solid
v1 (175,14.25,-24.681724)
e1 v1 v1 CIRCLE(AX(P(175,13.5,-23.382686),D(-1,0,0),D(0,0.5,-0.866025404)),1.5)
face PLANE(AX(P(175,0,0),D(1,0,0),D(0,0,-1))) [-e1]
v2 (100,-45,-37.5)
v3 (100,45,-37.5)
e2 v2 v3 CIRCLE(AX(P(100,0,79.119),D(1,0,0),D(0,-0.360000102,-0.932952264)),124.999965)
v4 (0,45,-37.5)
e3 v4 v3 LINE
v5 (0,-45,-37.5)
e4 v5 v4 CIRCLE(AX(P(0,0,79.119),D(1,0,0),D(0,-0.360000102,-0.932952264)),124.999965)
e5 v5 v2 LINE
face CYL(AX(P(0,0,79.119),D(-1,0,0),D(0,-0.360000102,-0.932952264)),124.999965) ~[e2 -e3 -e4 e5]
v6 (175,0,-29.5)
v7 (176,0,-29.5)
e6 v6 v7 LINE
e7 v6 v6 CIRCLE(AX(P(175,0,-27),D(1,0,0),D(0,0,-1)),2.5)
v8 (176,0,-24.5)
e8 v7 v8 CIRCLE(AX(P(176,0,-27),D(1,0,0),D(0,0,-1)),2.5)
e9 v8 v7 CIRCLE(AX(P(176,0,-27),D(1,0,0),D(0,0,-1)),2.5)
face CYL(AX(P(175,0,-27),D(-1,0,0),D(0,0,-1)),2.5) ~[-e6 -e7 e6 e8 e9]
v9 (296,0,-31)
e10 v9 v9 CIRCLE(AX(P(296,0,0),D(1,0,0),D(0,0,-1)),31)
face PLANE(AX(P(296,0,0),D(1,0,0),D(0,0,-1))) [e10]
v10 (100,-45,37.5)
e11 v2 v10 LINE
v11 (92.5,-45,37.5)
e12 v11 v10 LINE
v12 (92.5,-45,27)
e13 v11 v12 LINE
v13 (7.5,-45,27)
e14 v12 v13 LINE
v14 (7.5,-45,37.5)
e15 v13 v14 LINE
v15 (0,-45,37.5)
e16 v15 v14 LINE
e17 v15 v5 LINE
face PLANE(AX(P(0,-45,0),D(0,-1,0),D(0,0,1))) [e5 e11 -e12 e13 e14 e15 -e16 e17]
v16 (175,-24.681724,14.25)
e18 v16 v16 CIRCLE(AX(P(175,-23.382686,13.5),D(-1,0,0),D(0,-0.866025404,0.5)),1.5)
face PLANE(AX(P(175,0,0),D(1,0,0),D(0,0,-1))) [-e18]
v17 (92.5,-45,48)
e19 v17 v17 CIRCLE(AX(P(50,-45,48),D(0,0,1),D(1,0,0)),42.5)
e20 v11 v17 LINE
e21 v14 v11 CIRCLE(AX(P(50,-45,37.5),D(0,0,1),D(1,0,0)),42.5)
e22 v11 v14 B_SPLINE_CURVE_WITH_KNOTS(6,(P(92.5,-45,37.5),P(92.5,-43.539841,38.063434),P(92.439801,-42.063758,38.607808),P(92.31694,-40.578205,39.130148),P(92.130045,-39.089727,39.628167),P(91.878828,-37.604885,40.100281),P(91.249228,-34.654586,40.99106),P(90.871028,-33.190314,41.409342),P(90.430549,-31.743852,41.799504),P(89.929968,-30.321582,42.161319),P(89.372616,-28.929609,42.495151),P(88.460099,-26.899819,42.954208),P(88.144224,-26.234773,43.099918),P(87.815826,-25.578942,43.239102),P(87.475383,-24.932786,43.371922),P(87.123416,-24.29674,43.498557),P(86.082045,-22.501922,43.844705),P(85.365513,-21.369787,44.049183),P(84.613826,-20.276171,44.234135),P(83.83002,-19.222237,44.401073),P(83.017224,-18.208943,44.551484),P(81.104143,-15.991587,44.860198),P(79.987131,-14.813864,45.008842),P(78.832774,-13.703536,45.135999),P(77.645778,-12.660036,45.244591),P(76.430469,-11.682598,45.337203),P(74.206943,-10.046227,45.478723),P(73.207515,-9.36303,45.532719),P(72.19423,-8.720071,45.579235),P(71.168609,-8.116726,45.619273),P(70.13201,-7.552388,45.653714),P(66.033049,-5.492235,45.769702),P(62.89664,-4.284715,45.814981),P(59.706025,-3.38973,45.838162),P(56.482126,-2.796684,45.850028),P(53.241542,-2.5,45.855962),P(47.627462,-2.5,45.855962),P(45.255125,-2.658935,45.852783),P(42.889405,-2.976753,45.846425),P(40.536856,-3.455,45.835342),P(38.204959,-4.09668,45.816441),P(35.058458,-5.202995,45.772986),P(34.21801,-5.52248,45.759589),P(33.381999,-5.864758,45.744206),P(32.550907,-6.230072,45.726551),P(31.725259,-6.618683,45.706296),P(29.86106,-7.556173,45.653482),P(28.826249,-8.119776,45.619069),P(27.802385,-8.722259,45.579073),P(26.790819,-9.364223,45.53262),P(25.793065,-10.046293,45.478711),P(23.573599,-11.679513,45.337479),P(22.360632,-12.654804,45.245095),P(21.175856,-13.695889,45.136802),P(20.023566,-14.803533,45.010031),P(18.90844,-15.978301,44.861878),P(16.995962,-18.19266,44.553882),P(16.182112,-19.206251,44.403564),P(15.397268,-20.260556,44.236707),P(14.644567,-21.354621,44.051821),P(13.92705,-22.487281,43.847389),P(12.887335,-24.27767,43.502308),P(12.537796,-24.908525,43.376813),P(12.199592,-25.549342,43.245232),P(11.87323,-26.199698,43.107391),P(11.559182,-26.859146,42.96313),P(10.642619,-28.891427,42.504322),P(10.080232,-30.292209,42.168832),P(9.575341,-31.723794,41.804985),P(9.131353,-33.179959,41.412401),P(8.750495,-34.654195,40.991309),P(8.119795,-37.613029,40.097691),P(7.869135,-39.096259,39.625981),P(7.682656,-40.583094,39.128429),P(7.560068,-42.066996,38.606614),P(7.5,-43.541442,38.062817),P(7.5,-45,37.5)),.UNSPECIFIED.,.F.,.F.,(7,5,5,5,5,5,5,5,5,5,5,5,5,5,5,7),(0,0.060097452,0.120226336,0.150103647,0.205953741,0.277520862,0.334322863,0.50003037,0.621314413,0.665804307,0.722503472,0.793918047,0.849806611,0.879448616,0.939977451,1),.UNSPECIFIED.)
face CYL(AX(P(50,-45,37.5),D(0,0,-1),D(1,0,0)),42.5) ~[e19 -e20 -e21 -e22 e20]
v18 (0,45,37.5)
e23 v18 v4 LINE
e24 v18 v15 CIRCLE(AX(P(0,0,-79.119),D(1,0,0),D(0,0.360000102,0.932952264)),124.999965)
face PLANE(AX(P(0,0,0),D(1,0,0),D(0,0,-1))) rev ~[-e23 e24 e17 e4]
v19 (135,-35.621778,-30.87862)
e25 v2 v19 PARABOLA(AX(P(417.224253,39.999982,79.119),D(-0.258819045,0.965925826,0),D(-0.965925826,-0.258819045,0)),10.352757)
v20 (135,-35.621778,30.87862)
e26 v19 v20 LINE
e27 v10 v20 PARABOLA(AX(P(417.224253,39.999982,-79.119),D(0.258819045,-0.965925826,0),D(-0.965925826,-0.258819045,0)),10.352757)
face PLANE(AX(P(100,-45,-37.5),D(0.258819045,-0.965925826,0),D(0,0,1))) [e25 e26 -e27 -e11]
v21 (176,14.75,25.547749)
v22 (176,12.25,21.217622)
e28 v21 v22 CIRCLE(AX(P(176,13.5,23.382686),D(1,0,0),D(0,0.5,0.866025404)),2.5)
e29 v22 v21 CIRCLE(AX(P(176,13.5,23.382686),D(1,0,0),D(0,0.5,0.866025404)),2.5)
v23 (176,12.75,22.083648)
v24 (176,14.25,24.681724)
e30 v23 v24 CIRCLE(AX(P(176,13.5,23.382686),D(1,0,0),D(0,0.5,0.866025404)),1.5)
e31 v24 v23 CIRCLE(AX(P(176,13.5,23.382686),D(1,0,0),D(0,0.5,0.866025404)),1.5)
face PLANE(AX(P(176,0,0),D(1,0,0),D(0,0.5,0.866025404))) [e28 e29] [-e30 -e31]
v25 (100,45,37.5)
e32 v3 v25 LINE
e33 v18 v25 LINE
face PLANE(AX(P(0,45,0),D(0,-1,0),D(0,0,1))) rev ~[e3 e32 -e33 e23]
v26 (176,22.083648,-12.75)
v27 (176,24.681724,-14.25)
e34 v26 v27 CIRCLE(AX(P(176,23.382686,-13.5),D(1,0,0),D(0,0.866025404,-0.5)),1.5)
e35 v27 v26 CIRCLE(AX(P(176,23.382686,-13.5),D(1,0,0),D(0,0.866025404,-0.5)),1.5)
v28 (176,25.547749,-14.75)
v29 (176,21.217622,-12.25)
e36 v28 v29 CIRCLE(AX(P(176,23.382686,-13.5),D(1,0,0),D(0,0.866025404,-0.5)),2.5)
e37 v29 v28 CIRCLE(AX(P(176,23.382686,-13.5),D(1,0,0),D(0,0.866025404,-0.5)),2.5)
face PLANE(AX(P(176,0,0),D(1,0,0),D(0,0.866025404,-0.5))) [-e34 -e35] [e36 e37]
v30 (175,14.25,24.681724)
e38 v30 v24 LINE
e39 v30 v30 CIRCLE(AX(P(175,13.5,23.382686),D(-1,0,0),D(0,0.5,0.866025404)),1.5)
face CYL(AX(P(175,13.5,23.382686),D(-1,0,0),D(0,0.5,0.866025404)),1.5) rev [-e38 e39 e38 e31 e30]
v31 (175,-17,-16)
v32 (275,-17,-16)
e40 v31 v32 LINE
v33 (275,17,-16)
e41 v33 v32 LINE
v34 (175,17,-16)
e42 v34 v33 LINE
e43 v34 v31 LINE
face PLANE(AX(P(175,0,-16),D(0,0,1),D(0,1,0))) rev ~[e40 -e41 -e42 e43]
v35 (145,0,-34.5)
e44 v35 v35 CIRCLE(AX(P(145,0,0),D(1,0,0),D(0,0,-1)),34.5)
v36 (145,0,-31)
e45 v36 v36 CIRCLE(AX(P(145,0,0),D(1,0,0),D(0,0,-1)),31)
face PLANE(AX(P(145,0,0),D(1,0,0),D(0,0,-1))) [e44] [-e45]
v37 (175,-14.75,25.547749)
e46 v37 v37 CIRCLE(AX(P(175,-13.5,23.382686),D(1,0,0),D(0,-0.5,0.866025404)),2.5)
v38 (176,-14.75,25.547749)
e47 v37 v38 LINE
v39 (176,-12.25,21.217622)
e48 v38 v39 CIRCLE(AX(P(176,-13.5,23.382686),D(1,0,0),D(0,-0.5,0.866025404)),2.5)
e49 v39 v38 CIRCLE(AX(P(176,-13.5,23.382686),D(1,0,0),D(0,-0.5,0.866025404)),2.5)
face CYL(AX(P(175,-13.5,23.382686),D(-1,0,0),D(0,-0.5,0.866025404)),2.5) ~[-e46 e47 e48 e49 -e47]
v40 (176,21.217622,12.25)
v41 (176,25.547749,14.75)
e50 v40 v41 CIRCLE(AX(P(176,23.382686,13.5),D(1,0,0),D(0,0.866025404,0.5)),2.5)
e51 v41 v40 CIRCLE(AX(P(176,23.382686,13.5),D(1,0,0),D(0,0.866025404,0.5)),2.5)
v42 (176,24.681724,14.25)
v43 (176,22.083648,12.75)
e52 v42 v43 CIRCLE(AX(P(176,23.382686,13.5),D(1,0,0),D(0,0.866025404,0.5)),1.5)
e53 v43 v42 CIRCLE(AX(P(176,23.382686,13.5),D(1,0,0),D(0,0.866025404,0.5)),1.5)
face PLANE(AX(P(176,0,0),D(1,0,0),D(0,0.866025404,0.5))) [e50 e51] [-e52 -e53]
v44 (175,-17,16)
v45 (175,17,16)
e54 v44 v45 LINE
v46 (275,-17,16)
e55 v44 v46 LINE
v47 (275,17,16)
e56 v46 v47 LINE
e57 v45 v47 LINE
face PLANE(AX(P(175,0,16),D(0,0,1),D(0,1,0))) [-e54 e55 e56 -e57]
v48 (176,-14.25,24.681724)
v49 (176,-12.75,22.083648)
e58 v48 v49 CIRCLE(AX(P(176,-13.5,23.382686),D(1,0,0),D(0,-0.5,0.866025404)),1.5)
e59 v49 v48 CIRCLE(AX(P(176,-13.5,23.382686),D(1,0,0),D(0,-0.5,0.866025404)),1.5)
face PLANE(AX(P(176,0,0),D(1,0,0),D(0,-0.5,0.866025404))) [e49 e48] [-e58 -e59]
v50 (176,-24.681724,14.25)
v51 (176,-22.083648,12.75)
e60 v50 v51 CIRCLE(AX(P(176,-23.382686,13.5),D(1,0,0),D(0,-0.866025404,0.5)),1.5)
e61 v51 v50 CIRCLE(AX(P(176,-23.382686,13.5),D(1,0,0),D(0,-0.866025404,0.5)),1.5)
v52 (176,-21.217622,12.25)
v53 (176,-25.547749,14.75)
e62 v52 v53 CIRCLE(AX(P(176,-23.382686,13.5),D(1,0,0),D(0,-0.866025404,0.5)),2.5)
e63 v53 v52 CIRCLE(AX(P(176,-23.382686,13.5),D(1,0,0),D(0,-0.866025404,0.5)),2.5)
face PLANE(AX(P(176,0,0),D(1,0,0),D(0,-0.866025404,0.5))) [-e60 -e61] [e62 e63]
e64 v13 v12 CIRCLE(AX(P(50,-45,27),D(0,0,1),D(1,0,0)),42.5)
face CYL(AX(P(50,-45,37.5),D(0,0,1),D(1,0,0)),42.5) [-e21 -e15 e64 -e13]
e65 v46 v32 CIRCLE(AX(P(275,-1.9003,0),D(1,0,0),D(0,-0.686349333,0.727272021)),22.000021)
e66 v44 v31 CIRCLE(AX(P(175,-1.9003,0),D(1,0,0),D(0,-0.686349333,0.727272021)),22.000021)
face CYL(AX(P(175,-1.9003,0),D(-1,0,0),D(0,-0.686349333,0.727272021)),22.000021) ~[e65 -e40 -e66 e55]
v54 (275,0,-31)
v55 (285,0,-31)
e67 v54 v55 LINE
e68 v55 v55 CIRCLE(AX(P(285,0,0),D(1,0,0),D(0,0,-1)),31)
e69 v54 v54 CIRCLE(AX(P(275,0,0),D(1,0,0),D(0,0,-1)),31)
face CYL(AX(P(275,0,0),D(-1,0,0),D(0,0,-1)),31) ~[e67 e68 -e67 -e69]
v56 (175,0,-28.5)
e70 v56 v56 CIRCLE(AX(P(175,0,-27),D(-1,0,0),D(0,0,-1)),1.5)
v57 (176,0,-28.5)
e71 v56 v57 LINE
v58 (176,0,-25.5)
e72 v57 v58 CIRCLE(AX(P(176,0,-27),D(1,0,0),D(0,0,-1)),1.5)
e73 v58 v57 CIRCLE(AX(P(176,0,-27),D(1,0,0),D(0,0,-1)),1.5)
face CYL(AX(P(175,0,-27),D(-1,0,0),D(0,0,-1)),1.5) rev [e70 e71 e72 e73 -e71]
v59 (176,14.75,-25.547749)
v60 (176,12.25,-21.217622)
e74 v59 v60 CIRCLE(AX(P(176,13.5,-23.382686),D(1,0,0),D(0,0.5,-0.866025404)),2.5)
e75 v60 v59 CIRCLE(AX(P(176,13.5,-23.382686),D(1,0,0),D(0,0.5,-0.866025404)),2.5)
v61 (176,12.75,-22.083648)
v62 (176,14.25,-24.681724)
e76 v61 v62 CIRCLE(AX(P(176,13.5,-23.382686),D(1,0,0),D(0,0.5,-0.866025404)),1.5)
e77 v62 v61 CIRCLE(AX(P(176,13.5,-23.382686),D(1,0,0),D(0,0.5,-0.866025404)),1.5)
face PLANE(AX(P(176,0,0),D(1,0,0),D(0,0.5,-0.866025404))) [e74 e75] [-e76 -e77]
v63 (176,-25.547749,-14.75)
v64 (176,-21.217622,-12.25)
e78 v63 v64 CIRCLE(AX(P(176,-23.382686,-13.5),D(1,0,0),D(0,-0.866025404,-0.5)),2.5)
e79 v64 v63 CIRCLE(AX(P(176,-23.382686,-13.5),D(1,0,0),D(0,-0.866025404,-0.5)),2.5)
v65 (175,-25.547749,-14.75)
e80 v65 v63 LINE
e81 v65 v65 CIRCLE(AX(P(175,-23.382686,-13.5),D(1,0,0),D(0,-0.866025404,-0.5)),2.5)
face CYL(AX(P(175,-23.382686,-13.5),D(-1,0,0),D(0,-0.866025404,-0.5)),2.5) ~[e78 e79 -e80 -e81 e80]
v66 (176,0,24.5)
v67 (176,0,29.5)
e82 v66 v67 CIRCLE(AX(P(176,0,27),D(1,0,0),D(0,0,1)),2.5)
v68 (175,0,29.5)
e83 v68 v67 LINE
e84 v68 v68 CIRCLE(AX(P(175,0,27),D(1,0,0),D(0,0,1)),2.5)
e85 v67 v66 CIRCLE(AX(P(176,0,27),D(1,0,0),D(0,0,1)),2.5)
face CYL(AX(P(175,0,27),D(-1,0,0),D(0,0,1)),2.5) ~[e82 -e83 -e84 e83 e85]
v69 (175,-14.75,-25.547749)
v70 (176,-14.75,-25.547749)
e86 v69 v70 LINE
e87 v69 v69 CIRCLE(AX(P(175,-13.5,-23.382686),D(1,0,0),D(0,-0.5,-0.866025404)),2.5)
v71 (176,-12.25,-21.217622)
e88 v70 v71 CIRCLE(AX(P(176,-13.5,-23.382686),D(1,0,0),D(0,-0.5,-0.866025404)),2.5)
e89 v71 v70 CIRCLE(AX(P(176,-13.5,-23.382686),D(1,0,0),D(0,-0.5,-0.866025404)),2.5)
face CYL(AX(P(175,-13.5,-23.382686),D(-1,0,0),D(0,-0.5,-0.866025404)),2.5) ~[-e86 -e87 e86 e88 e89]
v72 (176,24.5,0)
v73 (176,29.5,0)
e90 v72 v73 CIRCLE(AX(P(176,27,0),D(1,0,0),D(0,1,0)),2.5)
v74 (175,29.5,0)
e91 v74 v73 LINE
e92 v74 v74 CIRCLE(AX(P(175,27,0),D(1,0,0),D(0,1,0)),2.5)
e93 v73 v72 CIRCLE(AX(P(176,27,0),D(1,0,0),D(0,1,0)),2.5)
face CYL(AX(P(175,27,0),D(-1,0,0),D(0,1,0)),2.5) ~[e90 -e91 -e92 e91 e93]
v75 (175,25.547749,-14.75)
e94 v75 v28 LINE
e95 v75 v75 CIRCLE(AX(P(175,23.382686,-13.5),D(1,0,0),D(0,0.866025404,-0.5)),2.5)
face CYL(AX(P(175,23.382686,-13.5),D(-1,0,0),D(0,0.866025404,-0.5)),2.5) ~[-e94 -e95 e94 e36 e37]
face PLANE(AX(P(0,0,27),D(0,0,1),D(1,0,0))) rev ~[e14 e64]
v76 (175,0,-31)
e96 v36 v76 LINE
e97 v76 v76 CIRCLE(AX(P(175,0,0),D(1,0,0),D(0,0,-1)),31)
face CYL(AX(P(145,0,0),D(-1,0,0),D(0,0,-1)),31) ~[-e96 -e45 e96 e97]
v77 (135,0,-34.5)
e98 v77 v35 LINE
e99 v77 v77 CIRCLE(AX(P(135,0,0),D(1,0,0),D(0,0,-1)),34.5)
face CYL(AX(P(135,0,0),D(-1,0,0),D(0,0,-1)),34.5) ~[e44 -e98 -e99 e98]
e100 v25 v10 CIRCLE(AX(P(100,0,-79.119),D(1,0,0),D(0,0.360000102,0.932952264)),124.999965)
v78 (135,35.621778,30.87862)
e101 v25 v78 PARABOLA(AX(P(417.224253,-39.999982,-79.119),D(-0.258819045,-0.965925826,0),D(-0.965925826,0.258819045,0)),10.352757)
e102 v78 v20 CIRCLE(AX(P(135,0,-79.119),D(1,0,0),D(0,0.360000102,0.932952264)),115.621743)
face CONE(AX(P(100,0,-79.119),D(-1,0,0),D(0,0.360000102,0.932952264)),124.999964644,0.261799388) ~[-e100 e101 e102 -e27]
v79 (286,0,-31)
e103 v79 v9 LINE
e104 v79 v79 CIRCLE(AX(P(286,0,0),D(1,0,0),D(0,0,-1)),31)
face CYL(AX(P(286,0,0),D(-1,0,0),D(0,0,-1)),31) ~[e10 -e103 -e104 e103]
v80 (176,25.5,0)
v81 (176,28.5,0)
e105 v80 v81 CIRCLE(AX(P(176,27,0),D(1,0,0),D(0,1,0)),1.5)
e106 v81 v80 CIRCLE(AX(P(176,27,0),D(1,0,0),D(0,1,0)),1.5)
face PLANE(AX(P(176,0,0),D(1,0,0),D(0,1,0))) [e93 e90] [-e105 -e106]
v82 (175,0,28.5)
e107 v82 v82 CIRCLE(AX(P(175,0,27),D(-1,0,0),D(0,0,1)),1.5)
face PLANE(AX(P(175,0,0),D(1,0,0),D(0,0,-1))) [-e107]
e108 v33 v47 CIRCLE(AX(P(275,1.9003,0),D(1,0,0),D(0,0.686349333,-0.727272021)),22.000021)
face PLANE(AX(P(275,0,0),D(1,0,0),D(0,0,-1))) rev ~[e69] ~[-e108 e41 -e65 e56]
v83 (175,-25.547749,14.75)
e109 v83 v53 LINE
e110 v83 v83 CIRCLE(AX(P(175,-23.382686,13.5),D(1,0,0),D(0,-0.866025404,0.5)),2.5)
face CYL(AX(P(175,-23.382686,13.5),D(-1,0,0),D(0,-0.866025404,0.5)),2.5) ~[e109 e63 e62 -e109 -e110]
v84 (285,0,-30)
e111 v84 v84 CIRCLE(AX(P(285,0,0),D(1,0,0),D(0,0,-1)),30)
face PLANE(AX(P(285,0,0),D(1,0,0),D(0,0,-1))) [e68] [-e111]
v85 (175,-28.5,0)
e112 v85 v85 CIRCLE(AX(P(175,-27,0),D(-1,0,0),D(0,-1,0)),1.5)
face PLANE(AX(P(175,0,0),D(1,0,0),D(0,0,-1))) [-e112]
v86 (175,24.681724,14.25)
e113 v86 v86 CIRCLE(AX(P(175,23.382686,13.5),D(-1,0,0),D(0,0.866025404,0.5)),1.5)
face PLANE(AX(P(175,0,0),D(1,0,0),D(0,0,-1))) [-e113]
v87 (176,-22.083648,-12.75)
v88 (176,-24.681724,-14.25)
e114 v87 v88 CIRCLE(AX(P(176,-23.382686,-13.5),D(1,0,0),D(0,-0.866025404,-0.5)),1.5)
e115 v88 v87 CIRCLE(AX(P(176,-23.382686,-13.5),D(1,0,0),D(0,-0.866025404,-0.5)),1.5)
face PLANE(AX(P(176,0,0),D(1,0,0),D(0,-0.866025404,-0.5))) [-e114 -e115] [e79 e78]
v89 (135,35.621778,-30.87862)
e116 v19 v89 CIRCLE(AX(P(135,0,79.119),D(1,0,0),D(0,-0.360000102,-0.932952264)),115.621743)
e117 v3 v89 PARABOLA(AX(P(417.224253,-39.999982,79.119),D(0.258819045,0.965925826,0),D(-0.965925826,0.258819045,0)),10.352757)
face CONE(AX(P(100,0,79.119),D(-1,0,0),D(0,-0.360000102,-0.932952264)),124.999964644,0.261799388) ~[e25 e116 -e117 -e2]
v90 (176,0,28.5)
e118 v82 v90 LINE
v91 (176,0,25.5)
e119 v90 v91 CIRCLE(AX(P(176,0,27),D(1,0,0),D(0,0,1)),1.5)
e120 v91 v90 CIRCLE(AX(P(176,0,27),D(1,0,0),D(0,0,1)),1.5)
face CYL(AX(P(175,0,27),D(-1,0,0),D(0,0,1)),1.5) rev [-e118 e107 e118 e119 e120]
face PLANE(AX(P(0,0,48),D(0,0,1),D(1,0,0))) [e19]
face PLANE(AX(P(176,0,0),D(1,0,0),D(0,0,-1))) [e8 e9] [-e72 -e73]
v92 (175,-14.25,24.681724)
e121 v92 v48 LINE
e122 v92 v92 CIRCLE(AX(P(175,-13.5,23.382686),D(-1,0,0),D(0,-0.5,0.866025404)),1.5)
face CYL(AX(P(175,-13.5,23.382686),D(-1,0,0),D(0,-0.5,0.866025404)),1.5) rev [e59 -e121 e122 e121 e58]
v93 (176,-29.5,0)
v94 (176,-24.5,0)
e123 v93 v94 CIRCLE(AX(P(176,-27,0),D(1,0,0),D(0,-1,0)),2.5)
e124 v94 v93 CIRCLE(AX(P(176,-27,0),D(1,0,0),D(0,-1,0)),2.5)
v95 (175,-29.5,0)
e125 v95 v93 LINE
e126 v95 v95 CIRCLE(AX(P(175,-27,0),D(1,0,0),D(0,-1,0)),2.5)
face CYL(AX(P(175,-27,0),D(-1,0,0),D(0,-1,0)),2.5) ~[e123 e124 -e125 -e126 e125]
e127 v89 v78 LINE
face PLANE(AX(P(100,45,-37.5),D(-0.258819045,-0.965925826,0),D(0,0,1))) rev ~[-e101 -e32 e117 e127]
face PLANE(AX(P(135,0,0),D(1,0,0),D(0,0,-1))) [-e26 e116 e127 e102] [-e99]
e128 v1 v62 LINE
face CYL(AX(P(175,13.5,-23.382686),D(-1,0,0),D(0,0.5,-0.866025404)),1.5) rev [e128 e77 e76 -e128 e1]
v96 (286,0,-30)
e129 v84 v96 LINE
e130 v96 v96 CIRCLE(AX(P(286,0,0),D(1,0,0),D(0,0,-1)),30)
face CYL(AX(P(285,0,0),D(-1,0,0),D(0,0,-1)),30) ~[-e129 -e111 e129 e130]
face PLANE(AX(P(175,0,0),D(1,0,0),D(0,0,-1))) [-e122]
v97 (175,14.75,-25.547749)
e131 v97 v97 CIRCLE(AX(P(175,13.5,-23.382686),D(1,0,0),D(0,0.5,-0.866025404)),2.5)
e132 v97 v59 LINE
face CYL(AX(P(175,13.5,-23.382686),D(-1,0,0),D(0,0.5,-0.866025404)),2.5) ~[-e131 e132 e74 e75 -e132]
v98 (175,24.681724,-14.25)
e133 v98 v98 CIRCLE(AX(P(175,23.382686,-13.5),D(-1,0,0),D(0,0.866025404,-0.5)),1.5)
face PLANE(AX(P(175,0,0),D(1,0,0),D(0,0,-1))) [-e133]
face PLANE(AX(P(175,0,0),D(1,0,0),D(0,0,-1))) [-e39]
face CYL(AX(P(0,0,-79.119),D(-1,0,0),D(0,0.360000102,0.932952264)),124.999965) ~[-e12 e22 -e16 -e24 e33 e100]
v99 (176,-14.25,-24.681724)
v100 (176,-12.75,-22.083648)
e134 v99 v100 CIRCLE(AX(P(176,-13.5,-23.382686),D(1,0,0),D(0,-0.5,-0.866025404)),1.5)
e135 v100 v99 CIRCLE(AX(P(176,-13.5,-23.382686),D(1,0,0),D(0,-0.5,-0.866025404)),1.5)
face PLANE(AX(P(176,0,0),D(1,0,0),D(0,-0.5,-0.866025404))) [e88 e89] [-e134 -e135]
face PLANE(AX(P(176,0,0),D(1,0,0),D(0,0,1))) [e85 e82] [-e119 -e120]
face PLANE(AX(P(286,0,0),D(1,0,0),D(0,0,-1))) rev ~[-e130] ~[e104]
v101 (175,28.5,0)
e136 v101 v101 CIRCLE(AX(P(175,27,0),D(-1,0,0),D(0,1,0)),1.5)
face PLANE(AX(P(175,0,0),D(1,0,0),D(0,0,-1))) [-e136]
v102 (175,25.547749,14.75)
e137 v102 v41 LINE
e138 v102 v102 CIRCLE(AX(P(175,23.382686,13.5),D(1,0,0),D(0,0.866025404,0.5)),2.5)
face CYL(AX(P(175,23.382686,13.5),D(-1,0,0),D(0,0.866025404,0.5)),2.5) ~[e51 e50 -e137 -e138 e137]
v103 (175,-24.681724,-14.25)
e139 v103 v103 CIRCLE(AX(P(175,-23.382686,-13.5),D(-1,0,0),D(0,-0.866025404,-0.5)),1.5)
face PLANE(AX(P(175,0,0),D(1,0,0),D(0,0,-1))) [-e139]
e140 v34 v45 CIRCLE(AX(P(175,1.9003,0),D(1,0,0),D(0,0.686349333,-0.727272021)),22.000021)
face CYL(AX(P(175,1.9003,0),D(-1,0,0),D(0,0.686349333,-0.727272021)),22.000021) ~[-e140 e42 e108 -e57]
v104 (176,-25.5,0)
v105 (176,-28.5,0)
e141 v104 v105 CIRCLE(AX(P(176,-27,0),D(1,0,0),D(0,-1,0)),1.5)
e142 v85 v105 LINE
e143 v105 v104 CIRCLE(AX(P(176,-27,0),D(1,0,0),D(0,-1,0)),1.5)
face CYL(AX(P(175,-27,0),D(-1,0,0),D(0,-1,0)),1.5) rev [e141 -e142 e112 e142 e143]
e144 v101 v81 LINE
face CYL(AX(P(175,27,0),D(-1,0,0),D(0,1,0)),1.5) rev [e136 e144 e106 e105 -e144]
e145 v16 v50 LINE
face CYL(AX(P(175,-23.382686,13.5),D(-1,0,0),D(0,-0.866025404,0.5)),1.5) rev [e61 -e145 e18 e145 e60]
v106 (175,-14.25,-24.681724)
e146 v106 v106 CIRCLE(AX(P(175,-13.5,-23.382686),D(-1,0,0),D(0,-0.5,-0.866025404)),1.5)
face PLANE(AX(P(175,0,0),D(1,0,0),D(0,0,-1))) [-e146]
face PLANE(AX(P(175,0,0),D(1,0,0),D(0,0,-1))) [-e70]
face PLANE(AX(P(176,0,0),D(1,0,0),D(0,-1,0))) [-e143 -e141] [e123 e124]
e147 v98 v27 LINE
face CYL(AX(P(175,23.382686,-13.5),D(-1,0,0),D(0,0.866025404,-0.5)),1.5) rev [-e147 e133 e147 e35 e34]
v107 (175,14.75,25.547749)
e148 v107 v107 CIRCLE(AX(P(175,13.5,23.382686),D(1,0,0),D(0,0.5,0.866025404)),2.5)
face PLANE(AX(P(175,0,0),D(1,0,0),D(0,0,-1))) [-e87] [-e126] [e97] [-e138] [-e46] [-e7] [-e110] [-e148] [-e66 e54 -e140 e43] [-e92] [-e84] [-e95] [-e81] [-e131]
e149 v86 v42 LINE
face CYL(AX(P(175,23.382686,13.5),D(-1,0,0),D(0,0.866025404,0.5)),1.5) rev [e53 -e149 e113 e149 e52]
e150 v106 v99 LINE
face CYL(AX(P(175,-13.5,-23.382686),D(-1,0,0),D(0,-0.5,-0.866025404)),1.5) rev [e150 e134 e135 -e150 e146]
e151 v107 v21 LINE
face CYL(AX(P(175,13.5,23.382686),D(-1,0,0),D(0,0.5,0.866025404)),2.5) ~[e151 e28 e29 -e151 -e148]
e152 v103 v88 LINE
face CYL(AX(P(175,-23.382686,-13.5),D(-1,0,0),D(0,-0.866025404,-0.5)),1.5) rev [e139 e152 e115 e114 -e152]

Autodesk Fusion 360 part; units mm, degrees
sketch "Sketch1" plane through (0, 0, 0) normal (1, 0, 0) x (0, 0, -1)
  line L0 (0, 0) -> (0, 45)
  line L1 (0, 0) -> (0, -45)
  line L2 (0, 45) -> (37.5, 45)
  line L3 (0, 45) -> (-37.5, 45)
  line L4 (0, -45) -> (37.5, -45)
  line L5 (0, -45) -> (-37.5, -45)
  arc A0 (-37.5, 45) -> (-37.5, -45) centre (79.119, 0) ccw
  arc A1 (37.5, -45) -> (37.5, 45) centre (-79.119, 0) ccw
  dimension "d1" = 45
  dimension "d2" = 45
  dimension "d3" = 37.5
  dimension "d4" = 37.5
  dimension "d5" = 37.5
  dimension "d6" = 37.5
  dimension "d8" = 125
extrude "Extrude1" add sketch "Sketch1" along normal blind 100
extrude "Extrude2" add 1 faces at (100, -15.2642, -14.2806) along direction (1, 0, 0) blind 35 draft -15
sketch "Sketch2" plane through (135, 0, 0) normal (1, 0, 0) x (0, 0, -1)
  line L0 (-30.8786, -35.6218) -> (30.8786, -35.6218)
  arc A0 (30.8786, -35.6218) -> (30.8786, 35.6218) centre (-79.119, 0) ccw
  line L1 (30.8786, 35.6218) -> (-30.8786, 35.6218)
  arc A1 (-30.8786, 35.6218) -> (-30.8786, -35.6218) centre (79.119, 0) ccw
  circle A2 centre (0, 0) radius 34.5
  dimension "d13" = 69
extrude "Extrude3" add sketch "Sketch2" along normal blind 10 contours A2
sketch "Sketch3" plane through (145, 0, 0) normal (1, 0, 0) x (0, 0, -1)
  circle A0 centre (0, 0) radius 34.5
  circle A1 centre (0, 0) radius 31
  dimension "d16" = 62
extrude "Extrude4" add sketch "Sketch3" along normal blind 30 contours A1
sketch "Sketch4" plane through (175, 0, 0) normal (1, 0, 0) x (0, 0, -1)
  circle A0 centre (0, 0) radius 31
  line L0 (0, 0) -> (27, 0)
  circle A1 centre (27, 0) radius 2.5
  circle A2 centre (27, 0) radius 1.5
  dimension "d19" = 27
  dimension "d20" = 5
  dimension "d21" = -1
extrude "Extrude5" add sketch "Sketch4" along normal blind 1 contours A1
pattern_circular "C-Pattern1" count 12 over 360 about axis through (175, 0, 0) along (1, 0, 0) of "Extrude5"
sketch "Sketch5" plane through (175, 0, 0) normal (1, 0, 0) x (0, 0, -1)
  circle A0 centre (27, 0) radius 2.5
  circle A1 centre (0, 0) radius 31
  circle A2 centre (23.3827, 13.5) radius 2.5
  circle A3 centre (13.5, 23.3827) radius 2.5
  circle A4 centre (0, 27) radius 2.5
  circle A5 centre (-13.5, 23.3827) radius 2.5
  circle A6 centre (-23.3827, 13.5) radius 2.5
  circle A7 centre (-27, 0) radius 2.5
  circle A8 centre (-23.3827, -13.5) radius 2.5
  circle A9 centre (-13.5, -23.3827) radius 2.5
  circle A10 centre (0, -27) radius 2.5
  circle A11 centre (13.5, -23.3827) radius 2.5
  circle A12 centre (23.3827, -13.5) radius 2.5
  line L0 (0, 0) -> (16, 0)
  line L1 (16, 0) -> (16, 17)
  line L2 (16, 0) -> (16, -17)
  line L3 (0, 0) -> (0, -8.0593)
  line L4 (-16, 0) -> (-16, 17)
  line L5 (-16, 0) -> (-16, -17)
  arc A13 (16, 17) -> (-16, 17) centre (0, 1.9003) ccw
  arc A14 (-16, -17) -> (16, -17) centre (0, -1.9003) ccw
  dimension "d26" = 16
  dimension "d27" = 17
  dimension "d28" = 17
  dimension "d29" = 22
extrude "Extrude6" add sketch "Sketch5" along normal blind 100 contours L1 L2 L4 L5 A13 A14
sketch "Sketch6" plane through (275, 0, 0) normal (1, 0, 0) x (0, 0, -1)
  line L0 (-16, 17) -> (-16, -17)
  arc A0 (-16, -17) -> (16, -17) centre (0, -1.9003) ccw
  line L1 (16, -17) -> (16, 17)
  arc A1 (16, 17) -> (-16, 17) centre (0, 1.9003) ccw
  circle A2 centre (0, 0) radius 31
  circle A3 centre (0, 0) radius 30
  dimension "d32" = 62
  dimension "d35" = -1
extrude "Extrude7" add sketch "Sketch6" along normal blind 10 contours L0 A0 L1 A1 | A2 | A3
sketch "Sketch7" plane through (285, 0, 0) normal (1, 0, 0) x (0, 0, -1)
  circle A0 centre (0, 0) radius 31
  circle A1 centre (0, 0) radius 30
  dimension "d36" = -1
extrude "Extrude8" add sketch "Sketch7" along normal blind 1 contours A1
sketch "Sketch8" plane through (286, 0, 0) normal (1, 0, 0) x (0, 0, -1)
  circle A0 centre (0, 0) radius 30
  circle A1 centre (0, 0) radius 31
  dimension "d39" = 62
extrude "Extrude9" add sketch "Sketch8" along normal blind 10 contours A0 | A1
ref_plane "WorkPlane1" through (0, 45, 37.5) normal (0, 0, 1) x (1, 0, 0)
sketch "Sketch9" plane through (0, 0, 37.5) normal (0, 0, 1) x (1, 0, 0)
  circle A0 centre (50, -45) radius 42.5
  dimension "d43" = 85
extrude "Extrude10" add sketch "Sketch9" along normal mid plane 21
equation "d44 = ( 21 / 2 ) * 1 mm"
